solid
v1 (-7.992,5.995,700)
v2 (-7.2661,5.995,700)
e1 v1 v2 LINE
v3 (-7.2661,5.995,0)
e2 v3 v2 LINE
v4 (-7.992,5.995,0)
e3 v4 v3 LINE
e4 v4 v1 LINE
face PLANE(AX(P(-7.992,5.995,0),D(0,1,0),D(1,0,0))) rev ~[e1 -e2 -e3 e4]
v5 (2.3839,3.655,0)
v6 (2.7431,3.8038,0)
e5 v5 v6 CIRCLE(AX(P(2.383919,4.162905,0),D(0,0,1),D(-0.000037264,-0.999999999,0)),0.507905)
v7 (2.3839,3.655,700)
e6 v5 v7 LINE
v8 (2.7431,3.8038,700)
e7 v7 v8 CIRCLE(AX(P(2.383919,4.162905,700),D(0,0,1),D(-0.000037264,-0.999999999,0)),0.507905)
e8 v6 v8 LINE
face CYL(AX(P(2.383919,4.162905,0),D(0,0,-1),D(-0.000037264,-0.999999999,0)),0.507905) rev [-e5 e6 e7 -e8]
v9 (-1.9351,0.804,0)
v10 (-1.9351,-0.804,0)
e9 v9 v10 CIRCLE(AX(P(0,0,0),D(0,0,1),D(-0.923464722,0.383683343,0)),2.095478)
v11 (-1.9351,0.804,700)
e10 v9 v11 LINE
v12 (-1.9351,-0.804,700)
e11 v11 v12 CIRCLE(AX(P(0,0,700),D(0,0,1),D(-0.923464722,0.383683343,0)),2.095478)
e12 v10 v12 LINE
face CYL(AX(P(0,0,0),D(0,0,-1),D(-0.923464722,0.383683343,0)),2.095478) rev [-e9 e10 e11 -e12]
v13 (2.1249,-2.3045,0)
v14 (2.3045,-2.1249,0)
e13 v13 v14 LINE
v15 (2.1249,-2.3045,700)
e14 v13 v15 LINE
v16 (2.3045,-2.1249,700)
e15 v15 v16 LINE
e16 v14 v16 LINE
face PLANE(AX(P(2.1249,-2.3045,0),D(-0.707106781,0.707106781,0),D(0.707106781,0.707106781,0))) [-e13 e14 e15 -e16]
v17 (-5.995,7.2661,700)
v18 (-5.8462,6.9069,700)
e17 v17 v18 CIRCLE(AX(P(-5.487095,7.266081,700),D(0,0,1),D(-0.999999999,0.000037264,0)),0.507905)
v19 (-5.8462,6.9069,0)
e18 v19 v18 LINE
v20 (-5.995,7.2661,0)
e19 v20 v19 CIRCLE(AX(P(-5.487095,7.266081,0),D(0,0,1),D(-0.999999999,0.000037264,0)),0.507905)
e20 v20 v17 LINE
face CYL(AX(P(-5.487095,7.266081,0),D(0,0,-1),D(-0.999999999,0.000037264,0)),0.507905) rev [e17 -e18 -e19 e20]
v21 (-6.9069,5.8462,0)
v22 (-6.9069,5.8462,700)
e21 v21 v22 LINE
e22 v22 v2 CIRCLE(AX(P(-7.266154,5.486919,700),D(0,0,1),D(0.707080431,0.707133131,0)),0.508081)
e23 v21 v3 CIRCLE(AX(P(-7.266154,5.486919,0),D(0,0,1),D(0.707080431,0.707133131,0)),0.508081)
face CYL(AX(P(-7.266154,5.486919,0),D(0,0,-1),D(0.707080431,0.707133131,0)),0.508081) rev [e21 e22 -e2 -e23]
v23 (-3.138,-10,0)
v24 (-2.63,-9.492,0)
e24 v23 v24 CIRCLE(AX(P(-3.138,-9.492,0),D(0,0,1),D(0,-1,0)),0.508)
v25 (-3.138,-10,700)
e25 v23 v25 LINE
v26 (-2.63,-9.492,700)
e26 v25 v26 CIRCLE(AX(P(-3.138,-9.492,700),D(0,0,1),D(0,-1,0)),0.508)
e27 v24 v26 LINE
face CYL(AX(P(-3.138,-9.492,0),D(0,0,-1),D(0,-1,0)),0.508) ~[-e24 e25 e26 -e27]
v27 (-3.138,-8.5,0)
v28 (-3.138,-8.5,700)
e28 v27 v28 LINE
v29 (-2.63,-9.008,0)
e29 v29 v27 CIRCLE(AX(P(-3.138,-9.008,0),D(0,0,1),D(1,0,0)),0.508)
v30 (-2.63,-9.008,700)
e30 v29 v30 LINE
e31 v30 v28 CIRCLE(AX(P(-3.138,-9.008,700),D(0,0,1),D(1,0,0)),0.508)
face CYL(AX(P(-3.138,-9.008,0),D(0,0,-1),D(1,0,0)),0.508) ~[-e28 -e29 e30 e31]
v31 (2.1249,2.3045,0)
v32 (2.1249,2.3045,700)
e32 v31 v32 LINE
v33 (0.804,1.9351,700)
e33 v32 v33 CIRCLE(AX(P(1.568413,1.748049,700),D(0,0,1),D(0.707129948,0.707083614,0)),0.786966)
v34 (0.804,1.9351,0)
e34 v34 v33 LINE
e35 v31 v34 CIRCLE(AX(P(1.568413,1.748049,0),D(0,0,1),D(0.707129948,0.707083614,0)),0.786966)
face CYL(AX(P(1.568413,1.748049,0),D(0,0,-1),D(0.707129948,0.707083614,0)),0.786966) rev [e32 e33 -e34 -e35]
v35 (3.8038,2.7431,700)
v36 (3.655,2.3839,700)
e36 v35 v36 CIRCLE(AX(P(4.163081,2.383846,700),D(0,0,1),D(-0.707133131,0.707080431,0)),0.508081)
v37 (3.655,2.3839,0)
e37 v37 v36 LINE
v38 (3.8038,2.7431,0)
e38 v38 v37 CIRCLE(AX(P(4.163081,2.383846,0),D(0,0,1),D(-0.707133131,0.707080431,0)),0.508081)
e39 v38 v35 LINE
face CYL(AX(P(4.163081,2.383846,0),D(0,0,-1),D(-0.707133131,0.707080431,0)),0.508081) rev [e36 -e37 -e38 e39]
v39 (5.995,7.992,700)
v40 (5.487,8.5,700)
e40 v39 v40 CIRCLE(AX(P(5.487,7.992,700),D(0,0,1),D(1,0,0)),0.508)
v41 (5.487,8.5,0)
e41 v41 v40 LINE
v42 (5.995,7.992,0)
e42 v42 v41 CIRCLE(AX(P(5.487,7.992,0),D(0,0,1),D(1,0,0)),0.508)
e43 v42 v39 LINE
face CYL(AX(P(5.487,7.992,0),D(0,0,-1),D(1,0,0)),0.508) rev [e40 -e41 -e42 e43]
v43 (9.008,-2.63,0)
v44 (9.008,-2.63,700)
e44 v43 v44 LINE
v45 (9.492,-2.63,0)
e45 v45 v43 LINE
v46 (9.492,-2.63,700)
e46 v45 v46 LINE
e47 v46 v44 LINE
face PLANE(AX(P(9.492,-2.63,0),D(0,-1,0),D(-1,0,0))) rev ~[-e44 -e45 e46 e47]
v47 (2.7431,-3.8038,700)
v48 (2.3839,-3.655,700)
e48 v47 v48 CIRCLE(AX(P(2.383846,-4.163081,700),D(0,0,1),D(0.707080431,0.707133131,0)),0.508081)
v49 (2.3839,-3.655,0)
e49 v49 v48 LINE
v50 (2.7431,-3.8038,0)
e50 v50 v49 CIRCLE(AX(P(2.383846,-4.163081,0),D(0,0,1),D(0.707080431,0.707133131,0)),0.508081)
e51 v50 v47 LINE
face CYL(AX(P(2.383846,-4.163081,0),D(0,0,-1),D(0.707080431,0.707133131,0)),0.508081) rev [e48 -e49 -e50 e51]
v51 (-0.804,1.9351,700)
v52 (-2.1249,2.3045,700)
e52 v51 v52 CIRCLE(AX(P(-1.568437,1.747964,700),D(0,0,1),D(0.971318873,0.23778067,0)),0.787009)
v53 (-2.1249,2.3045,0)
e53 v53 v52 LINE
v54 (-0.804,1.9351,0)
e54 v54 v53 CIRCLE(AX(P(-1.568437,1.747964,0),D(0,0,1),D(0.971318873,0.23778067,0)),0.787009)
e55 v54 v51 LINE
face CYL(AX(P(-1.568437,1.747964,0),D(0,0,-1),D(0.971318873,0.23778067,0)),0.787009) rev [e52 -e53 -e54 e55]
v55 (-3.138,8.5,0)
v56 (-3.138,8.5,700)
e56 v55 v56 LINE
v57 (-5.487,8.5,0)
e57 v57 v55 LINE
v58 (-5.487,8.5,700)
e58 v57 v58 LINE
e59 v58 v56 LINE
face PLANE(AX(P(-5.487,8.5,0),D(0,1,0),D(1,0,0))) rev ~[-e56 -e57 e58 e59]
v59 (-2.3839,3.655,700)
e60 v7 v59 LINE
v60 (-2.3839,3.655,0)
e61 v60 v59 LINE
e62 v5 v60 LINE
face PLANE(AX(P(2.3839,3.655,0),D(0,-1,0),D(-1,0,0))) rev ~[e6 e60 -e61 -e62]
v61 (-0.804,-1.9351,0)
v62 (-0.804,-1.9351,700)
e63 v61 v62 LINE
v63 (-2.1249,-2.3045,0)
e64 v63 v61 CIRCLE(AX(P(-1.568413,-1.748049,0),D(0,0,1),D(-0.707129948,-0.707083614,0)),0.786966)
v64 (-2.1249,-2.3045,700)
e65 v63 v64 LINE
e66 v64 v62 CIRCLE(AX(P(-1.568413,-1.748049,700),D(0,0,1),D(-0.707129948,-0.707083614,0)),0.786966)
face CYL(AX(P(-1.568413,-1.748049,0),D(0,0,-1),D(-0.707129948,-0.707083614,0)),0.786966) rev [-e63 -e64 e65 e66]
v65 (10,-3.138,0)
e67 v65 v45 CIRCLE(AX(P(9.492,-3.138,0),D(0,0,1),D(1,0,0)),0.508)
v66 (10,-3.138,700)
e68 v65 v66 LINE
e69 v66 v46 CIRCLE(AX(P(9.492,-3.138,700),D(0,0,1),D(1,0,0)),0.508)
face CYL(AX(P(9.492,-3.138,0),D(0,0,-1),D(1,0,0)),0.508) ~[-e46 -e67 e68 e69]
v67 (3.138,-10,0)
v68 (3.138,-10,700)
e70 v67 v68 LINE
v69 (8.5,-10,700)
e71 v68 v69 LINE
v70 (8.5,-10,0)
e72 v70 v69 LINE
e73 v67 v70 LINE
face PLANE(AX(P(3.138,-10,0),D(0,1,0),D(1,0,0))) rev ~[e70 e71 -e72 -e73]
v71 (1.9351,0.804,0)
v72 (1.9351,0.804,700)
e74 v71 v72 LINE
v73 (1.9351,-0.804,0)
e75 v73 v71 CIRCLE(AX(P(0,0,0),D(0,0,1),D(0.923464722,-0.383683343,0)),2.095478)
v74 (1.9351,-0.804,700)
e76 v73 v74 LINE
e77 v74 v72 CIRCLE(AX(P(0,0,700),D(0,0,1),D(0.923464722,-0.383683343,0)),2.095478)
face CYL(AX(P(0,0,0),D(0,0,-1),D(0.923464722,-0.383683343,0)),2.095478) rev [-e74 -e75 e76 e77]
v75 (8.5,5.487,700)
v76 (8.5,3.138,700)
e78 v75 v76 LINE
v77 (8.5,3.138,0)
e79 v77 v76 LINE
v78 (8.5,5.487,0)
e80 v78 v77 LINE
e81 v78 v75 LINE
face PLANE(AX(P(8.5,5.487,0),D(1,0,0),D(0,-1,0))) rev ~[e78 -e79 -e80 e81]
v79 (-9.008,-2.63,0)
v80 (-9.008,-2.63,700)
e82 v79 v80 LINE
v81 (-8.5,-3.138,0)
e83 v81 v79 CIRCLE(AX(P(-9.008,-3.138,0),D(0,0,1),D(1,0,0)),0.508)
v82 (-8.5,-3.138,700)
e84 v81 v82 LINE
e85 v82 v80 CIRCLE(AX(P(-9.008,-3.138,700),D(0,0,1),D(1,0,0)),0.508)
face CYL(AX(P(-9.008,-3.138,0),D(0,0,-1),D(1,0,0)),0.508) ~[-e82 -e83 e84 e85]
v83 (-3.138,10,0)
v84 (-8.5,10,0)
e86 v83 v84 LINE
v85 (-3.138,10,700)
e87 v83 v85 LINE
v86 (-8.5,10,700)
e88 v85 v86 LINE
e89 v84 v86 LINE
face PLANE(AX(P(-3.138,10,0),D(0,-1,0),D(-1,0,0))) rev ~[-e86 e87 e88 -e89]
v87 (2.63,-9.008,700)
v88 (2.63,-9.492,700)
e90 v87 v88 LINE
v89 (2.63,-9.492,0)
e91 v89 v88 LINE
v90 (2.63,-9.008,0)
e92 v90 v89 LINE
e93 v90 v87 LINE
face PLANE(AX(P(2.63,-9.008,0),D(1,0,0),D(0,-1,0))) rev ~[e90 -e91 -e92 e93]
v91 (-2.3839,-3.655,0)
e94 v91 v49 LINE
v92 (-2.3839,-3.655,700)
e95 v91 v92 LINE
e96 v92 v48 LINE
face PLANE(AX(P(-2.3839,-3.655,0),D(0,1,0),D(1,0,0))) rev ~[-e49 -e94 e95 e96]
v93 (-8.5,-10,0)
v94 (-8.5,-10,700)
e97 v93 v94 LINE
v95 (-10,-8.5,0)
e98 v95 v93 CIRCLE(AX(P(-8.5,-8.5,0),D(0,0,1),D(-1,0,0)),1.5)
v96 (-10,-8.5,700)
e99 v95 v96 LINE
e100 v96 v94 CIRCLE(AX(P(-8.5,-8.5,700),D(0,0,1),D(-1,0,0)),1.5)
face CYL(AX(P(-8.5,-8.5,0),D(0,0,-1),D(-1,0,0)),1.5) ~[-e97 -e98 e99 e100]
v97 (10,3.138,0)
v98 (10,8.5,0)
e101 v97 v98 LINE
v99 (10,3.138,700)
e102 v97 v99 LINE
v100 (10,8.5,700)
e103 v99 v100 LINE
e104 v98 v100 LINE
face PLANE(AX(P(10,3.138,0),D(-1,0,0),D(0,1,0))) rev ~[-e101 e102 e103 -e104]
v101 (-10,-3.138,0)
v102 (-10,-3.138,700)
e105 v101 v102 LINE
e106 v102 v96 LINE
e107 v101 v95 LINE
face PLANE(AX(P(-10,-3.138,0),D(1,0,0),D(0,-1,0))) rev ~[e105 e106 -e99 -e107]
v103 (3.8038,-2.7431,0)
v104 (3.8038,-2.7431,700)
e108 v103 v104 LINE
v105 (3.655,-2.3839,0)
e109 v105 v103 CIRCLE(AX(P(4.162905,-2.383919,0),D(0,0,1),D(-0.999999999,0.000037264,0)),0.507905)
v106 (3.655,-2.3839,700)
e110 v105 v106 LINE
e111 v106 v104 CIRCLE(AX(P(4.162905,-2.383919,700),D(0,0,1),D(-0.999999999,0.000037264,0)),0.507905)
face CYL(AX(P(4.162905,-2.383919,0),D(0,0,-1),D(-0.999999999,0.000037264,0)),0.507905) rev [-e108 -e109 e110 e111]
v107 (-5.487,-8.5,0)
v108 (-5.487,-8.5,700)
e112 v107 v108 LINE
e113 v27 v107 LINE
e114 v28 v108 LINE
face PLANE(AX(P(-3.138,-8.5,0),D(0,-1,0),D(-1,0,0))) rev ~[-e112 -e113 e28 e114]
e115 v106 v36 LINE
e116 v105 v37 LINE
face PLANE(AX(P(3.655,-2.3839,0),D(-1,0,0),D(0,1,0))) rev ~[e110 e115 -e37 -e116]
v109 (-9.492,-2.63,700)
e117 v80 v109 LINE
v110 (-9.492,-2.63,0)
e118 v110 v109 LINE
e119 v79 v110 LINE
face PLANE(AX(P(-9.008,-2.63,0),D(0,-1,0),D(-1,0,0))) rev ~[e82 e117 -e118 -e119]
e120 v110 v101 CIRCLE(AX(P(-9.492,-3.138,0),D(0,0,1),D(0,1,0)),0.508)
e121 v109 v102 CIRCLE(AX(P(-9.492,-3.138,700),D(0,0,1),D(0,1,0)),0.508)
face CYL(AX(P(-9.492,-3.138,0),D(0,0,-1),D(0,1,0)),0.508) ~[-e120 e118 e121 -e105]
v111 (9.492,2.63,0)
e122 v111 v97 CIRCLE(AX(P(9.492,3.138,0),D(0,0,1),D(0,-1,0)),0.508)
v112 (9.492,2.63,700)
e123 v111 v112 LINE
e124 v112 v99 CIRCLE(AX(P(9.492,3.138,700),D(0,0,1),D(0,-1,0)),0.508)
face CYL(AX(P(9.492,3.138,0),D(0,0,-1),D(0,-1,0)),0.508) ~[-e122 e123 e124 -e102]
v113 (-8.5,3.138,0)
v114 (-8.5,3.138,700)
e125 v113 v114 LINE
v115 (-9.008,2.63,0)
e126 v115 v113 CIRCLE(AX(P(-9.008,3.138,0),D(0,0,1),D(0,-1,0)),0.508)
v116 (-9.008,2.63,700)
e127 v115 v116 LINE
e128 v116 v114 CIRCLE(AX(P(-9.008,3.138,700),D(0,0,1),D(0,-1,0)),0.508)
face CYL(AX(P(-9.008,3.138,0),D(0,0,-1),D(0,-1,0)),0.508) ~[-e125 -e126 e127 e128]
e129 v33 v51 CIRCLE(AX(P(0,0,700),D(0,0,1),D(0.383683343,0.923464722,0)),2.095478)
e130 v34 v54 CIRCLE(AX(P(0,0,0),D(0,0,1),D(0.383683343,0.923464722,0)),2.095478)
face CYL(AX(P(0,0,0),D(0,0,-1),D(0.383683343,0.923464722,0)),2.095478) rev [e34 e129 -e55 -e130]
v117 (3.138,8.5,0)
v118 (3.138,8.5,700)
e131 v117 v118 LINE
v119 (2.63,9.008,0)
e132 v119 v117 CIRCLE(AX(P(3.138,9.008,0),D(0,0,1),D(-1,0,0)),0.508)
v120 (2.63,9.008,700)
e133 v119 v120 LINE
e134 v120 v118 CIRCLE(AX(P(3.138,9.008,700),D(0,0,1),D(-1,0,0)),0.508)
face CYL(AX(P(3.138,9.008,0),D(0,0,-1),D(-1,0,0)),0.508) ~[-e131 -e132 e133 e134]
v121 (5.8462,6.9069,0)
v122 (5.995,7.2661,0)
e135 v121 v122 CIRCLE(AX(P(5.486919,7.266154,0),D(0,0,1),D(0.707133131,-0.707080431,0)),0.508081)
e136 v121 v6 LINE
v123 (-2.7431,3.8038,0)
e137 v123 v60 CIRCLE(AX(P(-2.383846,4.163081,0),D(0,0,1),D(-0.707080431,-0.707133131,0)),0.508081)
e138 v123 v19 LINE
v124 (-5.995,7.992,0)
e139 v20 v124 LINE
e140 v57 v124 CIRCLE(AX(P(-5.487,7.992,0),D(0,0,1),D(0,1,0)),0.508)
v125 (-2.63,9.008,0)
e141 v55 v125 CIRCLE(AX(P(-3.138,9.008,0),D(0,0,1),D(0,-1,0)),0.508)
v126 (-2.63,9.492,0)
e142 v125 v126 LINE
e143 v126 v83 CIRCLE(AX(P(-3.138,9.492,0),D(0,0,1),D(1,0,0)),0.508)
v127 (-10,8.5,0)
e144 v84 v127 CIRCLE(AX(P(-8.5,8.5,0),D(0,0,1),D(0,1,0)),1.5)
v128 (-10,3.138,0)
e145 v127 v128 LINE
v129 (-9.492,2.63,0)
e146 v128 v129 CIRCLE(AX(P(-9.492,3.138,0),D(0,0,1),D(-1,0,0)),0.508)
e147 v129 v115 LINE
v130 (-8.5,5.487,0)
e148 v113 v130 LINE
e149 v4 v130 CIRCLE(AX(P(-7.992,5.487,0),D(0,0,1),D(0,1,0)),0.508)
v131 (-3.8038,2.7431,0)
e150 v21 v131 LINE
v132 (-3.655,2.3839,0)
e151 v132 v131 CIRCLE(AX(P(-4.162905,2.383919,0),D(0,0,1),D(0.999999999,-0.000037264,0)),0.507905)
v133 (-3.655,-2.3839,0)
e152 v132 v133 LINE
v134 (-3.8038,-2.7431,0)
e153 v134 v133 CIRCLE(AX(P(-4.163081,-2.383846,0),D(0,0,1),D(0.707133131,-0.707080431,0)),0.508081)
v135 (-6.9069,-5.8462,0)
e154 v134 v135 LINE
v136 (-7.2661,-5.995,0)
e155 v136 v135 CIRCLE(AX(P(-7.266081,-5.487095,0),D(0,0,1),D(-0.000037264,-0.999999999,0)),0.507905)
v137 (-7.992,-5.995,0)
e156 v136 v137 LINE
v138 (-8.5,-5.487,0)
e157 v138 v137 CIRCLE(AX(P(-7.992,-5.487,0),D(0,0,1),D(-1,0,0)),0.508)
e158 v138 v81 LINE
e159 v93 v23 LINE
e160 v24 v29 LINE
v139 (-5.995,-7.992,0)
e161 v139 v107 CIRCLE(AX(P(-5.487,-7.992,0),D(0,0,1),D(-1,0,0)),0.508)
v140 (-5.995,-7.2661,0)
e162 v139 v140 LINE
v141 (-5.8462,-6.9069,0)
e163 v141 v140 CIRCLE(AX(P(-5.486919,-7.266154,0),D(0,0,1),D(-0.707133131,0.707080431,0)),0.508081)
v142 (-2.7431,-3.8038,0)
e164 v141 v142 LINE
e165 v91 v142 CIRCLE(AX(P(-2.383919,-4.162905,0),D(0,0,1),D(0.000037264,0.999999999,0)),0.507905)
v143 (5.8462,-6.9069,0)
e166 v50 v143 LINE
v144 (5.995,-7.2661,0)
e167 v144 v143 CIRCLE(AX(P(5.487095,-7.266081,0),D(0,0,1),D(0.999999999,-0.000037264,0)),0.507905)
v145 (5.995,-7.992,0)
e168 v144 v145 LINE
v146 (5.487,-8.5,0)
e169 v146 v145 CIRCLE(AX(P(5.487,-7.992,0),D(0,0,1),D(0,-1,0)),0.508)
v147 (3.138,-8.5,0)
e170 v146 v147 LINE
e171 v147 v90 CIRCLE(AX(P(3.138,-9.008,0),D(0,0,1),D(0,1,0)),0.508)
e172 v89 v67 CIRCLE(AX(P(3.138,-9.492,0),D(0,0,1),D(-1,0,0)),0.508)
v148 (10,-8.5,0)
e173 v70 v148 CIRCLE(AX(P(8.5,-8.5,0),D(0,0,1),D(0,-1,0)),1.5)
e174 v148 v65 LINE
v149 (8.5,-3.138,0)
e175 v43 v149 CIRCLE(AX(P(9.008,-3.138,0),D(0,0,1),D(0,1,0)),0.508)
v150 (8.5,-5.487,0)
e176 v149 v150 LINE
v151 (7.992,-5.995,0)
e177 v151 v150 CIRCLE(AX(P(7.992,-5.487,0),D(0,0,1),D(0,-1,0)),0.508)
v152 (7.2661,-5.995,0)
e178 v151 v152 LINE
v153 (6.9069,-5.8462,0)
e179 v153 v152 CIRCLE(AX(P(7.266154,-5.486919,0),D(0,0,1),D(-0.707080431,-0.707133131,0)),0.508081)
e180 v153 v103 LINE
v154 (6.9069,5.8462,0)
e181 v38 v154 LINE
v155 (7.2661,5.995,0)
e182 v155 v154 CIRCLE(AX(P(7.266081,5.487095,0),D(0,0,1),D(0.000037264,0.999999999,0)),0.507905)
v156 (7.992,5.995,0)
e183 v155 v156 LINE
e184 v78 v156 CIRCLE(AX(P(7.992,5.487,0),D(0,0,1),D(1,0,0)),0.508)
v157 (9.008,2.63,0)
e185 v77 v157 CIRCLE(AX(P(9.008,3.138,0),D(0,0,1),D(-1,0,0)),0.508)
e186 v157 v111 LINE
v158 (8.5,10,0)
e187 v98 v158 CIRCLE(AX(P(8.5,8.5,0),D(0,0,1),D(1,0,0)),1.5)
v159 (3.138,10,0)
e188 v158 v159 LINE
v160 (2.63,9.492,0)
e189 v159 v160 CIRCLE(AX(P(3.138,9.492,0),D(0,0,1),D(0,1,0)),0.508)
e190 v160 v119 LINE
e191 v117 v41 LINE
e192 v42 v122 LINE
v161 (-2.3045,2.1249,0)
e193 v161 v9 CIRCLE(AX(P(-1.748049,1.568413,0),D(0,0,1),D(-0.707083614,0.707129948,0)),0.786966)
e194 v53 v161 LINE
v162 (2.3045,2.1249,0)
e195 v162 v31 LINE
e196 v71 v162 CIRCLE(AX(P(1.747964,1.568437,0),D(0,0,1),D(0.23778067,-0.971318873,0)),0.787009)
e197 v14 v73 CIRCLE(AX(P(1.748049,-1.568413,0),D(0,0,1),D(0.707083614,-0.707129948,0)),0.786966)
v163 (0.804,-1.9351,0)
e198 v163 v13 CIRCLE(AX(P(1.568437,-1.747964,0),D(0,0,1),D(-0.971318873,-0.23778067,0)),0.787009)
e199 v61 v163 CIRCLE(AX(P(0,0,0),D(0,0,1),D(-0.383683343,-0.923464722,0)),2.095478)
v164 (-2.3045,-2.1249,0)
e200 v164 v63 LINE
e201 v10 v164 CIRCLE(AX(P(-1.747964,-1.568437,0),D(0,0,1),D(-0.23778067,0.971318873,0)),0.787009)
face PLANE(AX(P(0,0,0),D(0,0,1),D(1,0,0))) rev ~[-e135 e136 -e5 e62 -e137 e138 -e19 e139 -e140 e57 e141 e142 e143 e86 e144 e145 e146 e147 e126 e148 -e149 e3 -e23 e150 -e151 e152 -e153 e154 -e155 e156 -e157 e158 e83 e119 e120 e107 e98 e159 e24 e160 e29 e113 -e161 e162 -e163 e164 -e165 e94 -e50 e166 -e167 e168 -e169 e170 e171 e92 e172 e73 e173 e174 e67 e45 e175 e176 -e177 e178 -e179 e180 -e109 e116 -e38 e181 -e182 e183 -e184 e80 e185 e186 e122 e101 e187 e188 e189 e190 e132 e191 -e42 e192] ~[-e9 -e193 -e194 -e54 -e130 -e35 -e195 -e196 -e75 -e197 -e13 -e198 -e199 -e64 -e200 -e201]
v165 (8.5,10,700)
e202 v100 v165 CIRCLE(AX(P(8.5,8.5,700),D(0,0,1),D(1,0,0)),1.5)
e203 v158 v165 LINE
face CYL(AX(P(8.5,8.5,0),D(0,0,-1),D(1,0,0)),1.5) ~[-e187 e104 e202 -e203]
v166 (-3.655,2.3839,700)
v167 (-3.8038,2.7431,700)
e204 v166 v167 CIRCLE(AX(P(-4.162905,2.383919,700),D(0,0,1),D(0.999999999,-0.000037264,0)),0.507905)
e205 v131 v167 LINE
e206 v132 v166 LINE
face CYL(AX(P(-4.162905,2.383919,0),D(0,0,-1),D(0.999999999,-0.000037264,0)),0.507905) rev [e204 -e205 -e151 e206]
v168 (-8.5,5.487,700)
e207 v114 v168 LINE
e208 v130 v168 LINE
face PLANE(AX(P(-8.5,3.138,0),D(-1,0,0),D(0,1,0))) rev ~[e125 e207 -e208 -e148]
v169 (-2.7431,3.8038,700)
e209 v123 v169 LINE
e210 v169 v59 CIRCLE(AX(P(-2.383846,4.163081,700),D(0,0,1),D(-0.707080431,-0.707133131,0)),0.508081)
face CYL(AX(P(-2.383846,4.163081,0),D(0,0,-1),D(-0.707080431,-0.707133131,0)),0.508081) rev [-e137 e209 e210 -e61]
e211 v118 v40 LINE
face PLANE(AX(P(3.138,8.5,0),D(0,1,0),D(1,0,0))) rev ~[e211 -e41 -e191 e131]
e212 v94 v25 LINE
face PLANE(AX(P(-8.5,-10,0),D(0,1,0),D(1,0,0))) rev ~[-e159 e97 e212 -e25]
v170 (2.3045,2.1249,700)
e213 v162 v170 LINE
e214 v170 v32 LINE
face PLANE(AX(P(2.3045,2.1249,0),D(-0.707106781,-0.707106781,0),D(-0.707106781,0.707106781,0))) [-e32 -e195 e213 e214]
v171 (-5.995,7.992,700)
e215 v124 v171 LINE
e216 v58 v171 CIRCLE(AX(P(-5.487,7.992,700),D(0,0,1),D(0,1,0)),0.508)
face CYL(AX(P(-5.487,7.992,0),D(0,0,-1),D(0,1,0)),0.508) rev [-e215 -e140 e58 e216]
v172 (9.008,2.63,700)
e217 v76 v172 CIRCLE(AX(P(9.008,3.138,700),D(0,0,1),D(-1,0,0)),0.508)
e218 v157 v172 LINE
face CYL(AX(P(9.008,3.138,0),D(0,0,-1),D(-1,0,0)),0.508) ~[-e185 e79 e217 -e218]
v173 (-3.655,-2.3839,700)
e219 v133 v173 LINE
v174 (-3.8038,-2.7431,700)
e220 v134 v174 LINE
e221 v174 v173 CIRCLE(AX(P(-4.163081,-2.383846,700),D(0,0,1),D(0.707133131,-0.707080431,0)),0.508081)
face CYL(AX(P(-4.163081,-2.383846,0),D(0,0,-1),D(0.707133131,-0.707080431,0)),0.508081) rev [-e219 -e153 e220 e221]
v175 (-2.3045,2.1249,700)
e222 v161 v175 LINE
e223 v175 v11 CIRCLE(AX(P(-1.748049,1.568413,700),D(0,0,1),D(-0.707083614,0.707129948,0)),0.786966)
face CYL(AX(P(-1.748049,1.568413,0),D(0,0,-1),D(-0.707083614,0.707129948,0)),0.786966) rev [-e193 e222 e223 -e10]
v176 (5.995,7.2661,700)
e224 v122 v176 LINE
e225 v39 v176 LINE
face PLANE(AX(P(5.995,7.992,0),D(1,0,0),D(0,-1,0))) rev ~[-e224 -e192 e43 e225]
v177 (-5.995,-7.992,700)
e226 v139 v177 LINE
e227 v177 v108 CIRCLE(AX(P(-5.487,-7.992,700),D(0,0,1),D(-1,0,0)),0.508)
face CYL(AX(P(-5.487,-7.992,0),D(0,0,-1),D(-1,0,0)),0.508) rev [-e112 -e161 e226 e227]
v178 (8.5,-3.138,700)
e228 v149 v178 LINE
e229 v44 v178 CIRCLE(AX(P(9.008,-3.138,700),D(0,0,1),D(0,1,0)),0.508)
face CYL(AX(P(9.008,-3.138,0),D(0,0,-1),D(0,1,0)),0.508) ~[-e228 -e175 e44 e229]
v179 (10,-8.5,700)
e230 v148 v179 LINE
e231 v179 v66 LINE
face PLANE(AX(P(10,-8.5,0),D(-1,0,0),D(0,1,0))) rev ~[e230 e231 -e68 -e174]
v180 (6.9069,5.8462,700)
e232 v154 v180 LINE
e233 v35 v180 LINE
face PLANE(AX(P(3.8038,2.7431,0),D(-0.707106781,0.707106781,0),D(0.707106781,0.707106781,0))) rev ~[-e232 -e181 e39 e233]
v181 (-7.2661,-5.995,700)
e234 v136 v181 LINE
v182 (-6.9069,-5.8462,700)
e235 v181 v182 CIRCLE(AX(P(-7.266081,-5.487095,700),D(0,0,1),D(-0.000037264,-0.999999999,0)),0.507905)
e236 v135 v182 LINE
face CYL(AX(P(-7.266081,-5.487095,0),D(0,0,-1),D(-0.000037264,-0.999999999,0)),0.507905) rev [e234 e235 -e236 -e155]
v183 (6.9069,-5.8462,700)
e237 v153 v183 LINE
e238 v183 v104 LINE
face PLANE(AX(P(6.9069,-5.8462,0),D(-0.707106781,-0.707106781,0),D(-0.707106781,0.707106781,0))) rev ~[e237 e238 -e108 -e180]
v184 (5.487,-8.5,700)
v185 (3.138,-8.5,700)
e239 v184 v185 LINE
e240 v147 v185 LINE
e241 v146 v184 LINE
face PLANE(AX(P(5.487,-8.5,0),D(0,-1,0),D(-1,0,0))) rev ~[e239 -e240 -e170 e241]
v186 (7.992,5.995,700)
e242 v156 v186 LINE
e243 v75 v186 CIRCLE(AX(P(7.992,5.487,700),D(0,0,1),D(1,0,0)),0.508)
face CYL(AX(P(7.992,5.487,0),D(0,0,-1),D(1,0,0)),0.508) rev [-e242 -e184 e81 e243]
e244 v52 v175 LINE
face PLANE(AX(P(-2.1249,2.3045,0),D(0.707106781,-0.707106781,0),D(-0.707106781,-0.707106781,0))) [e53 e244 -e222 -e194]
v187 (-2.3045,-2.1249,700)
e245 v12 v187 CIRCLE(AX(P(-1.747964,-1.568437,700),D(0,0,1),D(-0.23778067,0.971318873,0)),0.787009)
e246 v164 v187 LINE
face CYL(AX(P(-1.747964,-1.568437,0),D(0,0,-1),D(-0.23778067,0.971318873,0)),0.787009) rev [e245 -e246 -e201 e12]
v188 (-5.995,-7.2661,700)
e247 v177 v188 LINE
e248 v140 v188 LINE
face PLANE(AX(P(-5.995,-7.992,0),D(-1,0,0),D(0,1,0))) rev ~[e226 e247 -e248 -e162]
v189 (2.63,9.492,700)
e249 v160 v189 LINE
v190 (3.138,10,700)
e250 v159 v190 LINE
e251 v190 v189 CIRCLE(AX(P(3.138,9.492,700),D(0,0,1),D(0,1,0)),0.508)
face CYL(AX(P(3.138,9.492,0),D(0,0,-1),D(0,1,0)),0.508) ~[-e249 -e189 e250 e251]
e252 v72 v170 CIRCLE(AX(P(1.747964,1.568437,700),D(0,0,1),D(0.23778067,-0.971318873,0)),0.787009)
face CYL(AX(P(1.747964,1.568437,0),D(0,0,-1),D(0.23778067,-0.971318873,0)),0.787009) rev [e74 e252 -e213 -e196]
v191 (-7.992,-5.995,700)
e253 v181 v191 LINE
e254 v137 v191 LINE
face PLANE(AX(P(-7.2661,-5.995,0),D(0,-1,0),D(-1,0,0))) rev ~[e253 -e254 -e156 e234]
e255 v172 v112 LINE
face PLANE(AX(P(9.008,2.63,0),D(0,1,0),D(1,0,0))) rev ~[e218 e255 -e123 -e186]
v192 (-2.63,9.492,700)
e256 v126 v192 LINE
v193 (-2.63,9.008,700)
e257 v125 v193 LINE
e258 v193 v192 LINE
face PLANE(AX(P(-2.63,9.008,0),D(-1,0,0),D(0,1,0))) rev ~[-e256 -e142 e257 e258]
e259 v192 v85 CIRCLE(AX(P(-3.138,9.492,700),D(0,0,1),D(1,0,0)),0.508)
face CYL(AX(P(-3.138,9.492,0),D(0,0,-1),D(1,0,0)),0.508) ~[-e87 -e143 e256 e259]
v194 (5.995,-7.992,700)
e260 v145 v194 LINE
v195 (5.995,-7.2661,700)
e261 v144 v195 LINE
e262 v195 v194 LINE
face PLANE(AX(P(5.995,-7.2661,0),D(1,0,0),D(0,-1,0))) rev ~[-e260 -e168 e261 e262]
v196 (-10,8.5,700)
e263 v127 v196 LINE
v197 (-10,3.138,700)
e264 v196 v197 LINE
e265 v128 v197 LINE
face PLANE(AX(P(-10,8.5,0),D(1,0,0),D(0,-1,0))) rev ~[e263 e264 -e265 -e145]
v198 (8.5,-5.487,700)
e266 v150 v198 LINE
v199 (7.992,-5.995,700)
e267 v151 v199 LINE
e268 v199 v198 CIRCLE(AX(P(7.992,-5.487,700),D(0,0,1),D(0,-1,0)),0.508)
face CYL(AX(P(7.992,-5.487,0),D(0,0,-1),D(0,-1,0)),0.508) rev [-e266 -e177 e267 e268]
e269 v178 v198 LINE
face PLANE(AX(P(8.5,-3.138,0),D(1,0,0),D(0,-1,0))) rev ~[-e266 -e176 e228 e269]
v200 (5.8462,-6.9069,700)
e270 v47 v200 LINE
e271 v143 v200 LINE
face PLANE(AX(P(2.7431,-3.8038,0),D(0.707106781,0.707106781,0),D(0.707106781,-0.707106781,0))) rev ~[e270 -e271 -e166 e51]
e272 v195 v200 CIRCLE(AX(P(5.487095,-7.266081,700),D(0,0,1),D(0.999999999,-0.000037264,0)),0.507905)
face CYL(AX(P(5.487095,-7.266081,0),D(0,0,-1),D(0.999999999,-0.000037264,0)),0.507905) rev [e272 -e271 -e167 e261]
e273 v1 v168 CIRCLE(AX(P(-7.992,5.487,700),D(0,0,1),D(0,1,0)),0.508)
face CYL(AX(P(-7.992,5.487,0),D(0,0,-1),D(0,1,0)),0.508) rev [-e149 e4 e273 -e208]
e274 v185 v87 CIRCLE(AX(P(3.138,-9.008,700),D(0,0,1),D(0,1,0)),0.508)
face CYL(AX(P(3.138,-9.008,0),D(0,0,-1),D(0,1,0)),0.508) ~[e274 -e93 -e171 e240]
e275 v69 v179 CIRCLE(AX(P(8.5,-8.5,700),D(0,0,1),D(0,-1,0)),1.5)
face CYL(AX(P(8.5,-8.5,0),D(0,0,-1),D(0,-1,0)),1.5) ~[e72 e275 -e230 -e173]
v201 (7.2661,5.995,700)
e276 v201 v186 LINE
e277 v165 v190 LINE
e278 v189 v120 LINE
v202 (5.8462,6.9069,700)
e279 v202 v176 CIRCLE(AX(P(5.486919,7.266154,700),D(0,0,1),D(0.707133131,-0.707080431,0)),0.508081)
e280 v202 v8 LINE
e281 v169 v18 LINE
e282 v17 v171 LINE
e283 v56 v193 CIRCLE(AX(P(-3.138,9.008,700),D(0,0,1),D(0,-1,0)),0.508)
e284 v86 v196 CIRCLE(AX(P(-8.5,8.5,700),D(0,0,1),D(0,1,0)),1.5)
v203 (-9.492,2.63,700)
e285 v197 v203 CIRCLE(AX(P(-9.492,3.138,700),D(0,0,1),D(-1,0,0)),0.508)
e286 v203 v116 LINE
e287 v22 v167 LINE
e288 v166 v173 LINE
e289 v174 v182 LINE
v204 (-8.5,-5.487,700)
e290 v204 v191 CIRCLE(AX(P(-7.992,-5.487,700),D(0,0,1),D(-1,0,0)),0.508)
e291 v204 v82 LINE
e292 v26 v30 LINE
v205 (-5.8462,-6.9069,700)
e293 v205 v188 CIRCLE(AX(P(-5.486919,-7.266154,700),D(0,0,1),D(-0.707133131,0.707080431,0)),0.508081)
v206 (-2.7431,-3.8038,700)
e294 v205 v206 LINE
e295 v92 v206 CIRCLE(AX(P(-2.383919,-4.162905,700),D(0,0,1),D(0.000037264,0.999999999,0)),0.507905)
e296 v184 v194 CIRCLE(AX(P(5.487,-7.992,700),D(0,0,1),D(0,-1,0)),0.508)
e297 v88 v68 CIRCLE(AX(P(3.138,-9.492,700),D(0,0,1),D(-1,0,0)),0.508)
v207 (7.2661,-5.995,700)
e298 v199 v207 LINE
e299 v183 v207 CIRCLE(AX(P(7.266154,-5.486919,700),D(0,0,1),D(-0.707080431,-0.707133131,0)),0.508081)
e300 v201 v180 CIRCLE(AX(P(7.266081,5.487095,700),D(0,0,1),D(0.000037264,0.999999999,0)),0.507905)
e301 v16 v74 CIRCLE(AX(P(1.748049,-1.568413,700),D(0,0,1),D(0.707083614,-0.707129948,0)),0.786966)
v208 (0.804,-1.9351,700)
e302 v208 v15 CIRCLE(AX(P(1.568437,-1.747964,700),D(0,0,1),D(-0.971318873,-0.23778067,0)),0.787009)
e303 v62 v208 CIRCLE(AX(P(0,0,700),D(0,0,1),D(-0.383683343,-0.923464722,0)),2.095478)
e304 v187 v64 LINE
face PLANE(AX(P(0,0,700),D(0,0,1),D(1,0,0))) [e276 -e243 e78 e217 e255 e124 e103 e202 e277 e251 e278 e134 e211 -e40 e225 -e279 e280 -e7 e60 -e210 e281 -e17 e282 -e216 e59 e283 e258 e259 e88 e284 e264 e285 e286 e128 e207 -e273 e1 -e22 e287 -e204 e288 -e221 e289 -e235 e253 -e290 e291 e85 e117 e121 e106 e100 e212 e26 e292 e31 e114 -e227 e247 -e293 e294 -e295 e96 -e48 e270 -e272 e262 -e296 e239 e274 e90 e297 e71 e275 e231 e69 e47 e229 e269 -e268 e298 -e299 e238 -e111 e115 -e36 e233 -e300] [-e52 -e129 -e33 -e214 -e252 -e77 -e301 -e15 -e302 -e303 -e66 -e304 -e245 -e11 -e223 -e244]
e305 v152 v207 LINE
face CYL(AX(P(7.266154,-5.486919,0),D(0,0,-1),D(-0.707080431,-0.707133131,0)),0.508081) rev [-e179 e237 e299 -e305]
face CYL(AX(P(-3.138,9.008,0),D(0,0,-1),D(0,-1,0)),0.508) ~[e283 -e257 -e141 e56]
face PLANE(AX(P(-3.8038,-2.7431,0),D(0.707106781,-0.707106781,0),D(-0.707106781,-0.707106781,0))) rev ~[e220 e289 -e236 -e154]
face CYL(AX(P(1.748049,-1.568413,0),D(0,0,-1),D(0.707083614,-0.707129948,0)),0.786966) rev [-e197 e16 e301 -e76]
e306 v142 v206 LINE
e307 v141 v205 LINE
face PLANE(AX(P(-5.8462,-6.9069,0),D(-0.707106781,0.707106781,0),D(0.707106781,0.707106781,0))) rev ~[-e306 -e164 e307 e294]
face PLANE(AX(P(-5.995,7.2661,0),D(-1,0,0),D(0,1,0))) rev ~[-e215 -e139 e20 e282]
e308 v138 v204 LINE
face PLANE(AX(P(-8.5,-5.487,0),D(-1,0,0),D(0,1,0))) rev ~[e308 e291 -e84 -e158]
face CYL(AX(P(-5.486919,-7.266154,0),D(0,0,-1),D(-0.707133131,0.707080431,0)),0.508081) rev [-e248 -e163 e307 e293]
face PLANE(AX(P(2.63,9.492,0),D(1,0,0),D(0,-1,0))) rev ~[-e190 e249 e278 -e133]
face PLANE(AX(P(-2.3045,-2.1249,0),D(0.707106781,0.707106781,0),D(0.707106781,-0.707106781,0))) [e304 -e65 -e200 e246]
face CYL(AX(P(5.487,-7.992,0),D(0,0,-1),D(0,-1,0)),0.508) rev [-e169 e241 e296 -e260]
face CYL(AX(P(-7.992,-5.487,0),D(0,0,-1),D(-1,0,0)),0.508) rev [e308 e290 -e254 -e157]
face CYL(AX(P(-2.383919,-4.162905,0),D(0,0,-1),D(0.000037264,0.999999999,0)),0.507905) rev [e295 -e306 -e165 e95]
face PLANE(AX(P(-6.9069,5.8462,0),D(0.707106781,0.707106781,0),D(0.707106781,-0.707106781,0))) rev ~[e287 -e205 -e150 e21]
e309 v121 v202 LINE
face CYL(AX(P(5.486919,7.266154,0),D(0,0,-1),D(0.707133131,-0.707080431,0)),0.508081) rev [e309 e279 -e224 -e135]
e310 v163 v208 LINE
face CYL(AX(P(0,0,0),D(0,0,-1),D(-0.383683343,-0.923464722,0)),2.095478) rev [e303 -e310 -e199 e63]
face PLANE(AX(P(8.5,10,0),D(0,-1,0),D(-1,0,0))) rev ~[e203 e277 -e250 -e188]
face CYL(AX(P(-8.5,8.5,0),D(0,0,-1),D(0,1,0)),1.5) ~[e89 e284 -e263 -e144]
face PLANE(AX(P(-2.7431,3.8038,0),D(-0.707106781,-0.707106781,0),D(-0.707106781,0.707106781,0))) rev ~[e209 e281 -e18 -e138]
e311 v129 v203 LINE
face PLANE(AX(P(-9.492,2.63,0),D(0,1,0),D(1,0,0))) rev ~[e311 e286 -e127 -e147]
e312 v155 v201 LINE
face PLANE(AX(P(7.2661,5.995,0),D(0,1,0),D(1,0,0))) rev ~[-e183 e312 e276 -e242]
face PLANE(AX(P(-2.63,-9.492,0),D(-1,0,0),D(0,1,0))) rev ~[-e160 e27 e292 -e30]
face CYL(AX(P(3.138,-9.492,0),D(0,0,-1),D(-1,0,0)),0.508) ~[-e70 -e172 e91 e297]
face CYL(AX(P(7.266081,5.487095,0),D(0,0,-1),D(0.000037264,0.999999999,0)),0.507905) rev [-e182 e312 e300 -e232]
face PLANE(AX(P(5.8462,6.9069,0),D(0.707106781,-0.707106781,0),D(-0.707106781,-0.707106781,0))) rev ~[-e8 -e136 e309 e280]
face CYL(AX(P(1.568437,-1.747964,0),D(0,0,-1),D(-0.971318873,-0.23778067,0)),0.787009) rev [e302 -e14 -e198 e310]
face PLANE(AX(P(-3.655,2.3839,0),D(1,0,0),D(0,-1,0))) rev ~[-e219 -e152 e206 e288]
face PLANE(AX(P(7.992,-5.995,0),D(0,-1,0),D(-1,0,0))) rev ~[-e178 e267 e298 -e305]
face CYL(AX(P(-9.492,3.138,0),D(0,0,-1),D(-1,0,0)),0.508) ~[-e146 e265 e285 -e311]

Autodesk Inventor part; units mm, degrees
ref_plane "YZ Plane" through (0, 0, 0) normal (1, 0, 0) x (0, 1, 0)
ref_plane "XZ Plane" through (0, 0, 0) normal (0, 1, 0) x (-1, 0, 0)
ref_plane "XY Plane" through (0, 0, 0) normal (0, 0, 1) x (1, 0, 0)
sketch "Sketch2" plane through (0, 0, 0) normal (0, 0, 1) x (1, 0, 0)
  arc A0 (0.804, -1.9351) -> (2.1249, -2.3045) centre (1.5684, -1.748) ccw
  line L0 (2.1249, -2.3045) -> (2.3045, -2.1249)
  arc A1 (2.3045, -2.1249) -> (1.9351, -0.804) centre (1.748, -1.5684) ccw
  arc A2 (1.9351, -0.804) -> (1.9351, 0.804) centre (0, 0) ccw
  arc A3 (1.9351, 0.804) -> (2.3045, 2.1249) centre (1.748, 1.5684) ccw
  line L1 (2.3045, 2.1249) -> (2.1249, 2.3045)
  arc A4 (2.1249, 2.3045) -> (0.804, 1.9351) centre (1.5684, 1.748) ccw
  arc A5 (0.804, 1.9351) -> (-0.804, 1.9351) centre (0, 0) ccw
  arc A6 (-0.804, 1.9351) -> (-2.1249, 2.3045) centre (-1.5684, 1.748) ccw
  line L2 (-2.1249, 2.3045) -> (-2.3045, 2.1249)
  arc A7 (-2.3045, 2.1249) -> (-1.9351, 0.804) centre (-1.748, 1.5684) ccw
  arc A8 (-1.9351, 0.804) -> (-1.9351, -0.804) centre (0, 0) ccw
  arc A9 (-1.9351, -0.804) -> (-2.3045, -2.1249) centre (-1.748, -1.5684) ccw
  line L3 (-2.3045, -2.1249) -> (-2.1249, -2.3045)
  arc A10 (-2.1249, -2.3045) -> (-0.804, -1.9351) centre (-1.5684, -1.748) ccw
  arc A11 (-0.804, -1.9351) -> (0.804, -1.9351) centre (0, 0) ccw
  line L4 (9.008, 2.63) -> (9.492, 2.63)
  arc A12 (8.5, 3.138) -> (9.008, 2.63) centre (9.008, 3.138) ccw
  line L5 (8.5, 5.487) -> (8.5, 3.138)
  arc A13 (8.5, 5.487) -> (7.992, 5.995) centre (7.992, 5.487) ccw
  line L6 (7.2661, 5.995) -> (7.992, 5.995)
  arc A14 (7.2661, 5.995) -> (6.9069, 5.8462) centre (7.2661, 5.487) ccw
  line L7 (3.8038, 2.7431) -> (6.9069, 5.8462)
  arc A15 (3.8038, 2.7431) -> (3.655, 2.3839) centre (4.163, 2.3839) ccw
  line L8 (3.655, -2.3839) -> (3.655, 2.3839)
  arc A16 (3.655, -2.3839) -> (3.8038, -2.7431) centre (4.163, -2.3839) ccw
  line L9 (6.9069, -5.8462) -> (3.8038, -2.7431)
  arc A17 (6.9069, -5.8462) -> (7.2661, -5.995) centre (7.2661, -5.487) ccw
  line L10 (7.992, -5.995) -> (7.2661, -5.995)
  arc A18 (7.992, -5.995) -> (8.5, -5.487) centre (7.992, -5.487) ccw
  line L11 (8.5, -3.138) -> (8.5, -5.487)
  arc A19 (9.008, -2.63) -> (8.5, -3.138) centre (9.008, -3.138) ccw
  line L12 (9.492, -2.63) -> (9.008, -2.63)
  arc A20 (10, -3.138) -> (9.492, -2.63) centre (9.492, -3.138) ccw
  line L13 (10, -8.5) -> (10, -3.138)
  arc A21 (8.5, -10) -> (10, -8.5) centre (8.5, -8.5) ccw
  line L14 (3.138, -10) -> (8.5, -10)
  arc A22 (2.63, -9.492) -> (3.138, -10) centre (3.138, -9.492) ccw
  line L15 (2.63, -9.008) -> (2.63, -9.492)
  arc A23 (3.138, -8.5) -> (2.63, -9.008) centre (3.138, -9.008) ccw
  line L16 (5.487, -8.5) -> (3.138, -8.5)
  arc A24 (5.487, -8.5) -> (5.995, -7.992) centre (5.487, -7.992) ccw
  line L17 (5.995, -7.2661) -> (5.995, -7.992)
  arc A25 (5.995, -7.2661) -> (5.8462, -6.9069) centre (5.487, -7.2661) ccw
  line L18 (2.7431, -3.8038) -> (5.8462, -6.9069)
  arc A26 (2.7431, -3.8038) -> (2.3839, -3.655) centre (2.3839, -4.163) ccw
  line L19 (-2.3839, -3.655) -> (2.3839, -3.655)
  arc A27 (-2.3839, -3.655) -> (-2.7431, -3.8038) centre (-2.3839, -4.163) ccw
  line L20 (-5.8462, -6.9069) -> (-2.7431, -3.8038)
  arc A28 (-5.8462, -6.9069) -> (-5.995, -7.2661) centre (-5.487, -7.2661) ccw
  line L21 (-5.995, -7.992) -> (-5.995, -7.2661)
  arc A29 (-5.995, -7.992) -> (-5.487, -8.5) centre (-5.487, -7.992) ccw
  line L22 (-3.138, -8.5) -> (-5.487, -8.5)
  arc A30 (-2.63, -9.008) -> (-3.138, -8.5) centre (-3.138, -9.008) ccw
  line L23 (-2.63, -9.492) -> (-2.63, -9.008)
  arc A31 (-3.138, -10) -> (-2.63, -9.492) centre (-3.138, -9.492) ccw
  line L24 (-8.5, -10) -> (-3.138, -10)
  arc A32 (-10, -8.5) -> (-8.5, -10) centre (-8.5, -8.5) ccw
  line L25 (-10, -3.138) -> (-10, -8.5)
  arc A33 (-9.492, -2.63) -> (-10, -3.138) centre (-9.492, -3.138) ccw
  line L26 (-9.008, -2.63) -> (-9.492, -2.63)
  arc A34 (-8.5, -3.138) -> (-9.008, -2.63) centre (-9.008, -3.138) ccw
  line L27 (-8.5, -5.487) -> (-8.5, -3.138)
  arc A35 (-8.5, -5.487) -> (-7.992, -5.995) centre (-7.992, -5.487) ccw
  line L28 (-7.2661, -5.995) -> (-7.992, -5.995)
  arc A36 (-7.2661, -5.995) -> (-6.9069, -5.8462) centre (-7.2661, -5.487) ccw
  line L29 (-3.8038, -2.7431) -> (-6.9069, -5.8462)
  arc A37 (-3.8038, -2.7431) -> (-3.655, -2.3839) centre (-4.163, -2.3839) ccw
  line L30 (-3.655, 2.3839) -> (-3.655, -2.3839)
  arc A38 (-3.655, 2.3839) -> (-3.8038, 2.7431) centre (-4.163, 2.3839) ccw
  line L31 (-6.9069, 5.8462) -> (-3.8038, 2.7431)
  arc A39 (-6.9069, 5.8462) -> (-7.2661, 5.995) centre (-7.2661, 5.487) ccw
  line L32 (-7.992, 5.995) -> (-7.2661, 5.995)
  arc A40 (-7.992, 5.995) -> (-8.5, 5.487) centre (-7.992, 5.487) ccw
  line L33 (-8.5, 3.138) -> (-8.5, 5.487)
  arc A41 (-9.008, 2.63) -> (-8.5, 3.138) centre (-9.008, 3.138) ccw
  line L34 (-9.492, 2.63) -> (-9.008, 2.63)
  arc A42 (-10, 3.138) -> (-9.492, 2.63) centre (-9.492, 3.138) ccw
  line L35 (-10, 8.5) -> (-10, 3.138)
  arc A43 (-8.5, 10) -> (-10, 8.5) centre (-8.5, 8.5) ccw
  line L36 (-3.138, 10) -> (-8.5, 10)
  arc A44 (-2.63, 9.492) -> (-3.138, 10) centre (-3.138, 9.492) ccw
  line L37 (-2.63, 9.008) -> (-2.63, 9.492)
  arc A45 (-3.138, 8.5) -> (-2.63, 9.008) centre (-3.138, 9.008) ccw
  line L38 (-5.487, 8.5) -> (-3.138, 8.5)
  arc A46 (-5.487, 8.5) -> (-5.995, 7.992) centre (-5.487, 7.992) ccw
  line L39 (-5.995, 7.2661) -> (-5.995, 7.992)
  arc A47 (-5.995, 7.2661) -> (-5.8462, 6.9069) centre (-5.487, 7.2661) ccw
  line L40 (-2.7431, 3.8038) -> (-5.8462, 6.9069)
  arc A48 (-2.7431, 3.8038) -> (-2.3839, 3.655) centre (-2.3839, 4.163) ccw
  line L41 (2.3839, 3.655) -> (-2.3839, 3.655)
  arc A49 (2.3839, 3.655) -> (2.7431, 3.8038) centre (2.3839, 4.163) ccw
  line L42 (5.8462, 6.9069) -> (2.7431, 3.8038)
  arc A50 (5.8462, 6.9069) -> (5.995, 7.2661) centre (5.487, 7.2661) ccw
  line L43 (5.995, 7.992) -> (5.995, 7.2661)
  arc A51 (5.995, 7.992) -> (5.487, 8.5) centre (5.487, 7.992) ccw
  line L44 (3.138, 8.5) -> (5.487, 8.5)
  arc A52 (2.63, 9.008) -> (3.138, 8.5) centre (3.138, 9.008) ccw
  line L45 (2.63, 9.492) -> (2.63, 9.008)
  arc A53 (3.138, 10) -> (2.63, 9.492) centre (3.138, 9.492) ccw
  line L46 (8.5, 10) -> (3.138, 10)
  arc A54 (10, 8.5) -> (8.5, 10) centre (8.5, 8.5) ccw
  line L47 (10, 3.138) -> (10, 8.5)
  arc A55 (9.492, 2.63) -> (10, 3.138) centre (9.492, 3.138) ccw
  point P0 (0.804, -1.9351)
  point P1 (-0.804, -1.9351)
  point P2 (-2.3045, -2.1249)
  point P3 (-1.9351, -0.804)
  point P4 (-1.9351, 0.804)
  point P5 (-2.1249, 2.3045)
  point P6 (-0.804, 1.9351)
  point P7 (0.804, 1.9351)
  point P8 (2.3045, 2.1249)
  point P9 (1.9351, 0.804)
  point P10 (1.9351, -0.804)
  point P11 (2.1249, -2.3045)
  point P12 (8.5, 3.138)
  point P13 (10, 8.5)
  point P14 (3.138, 10)
  point P15 (2.63, 9.008)
  point P16 (5.487, 8.5)
  point P17 (5.995, 7.2661)
  point P18 (2.7431, 3.8038)
  point P19 (-2.3839, 3.655)
  point P20 (-5.8462, 6.9069)
  point P21 (-5.995, 7.992)
  point P22 (-3.138, 8.5)
  point P23 (-2.63, 9.492)
  point P24 (-8.5, 10)
  point P25 (-10, 3.138)
  point P26 (-9.008, 2.63)
  point P27 (-8.5, 5.487)
  point P28 (-7.2661, 5.995)
  point P29 (-3.8038, 2.7431)
  point P30 (-3.655, -2.3839)
  point P31 (-6.9069, -5.8462)
  point P32 (-7.992, -5.995)
  point P33 (-8.5, -3.138)
  point P34 (-9.492, -2.63)
  point P35 (-10, -8.5)
  point P36 (-3.138, -10)
  point P37 (-2.63, -9.008)
  point P38 (-5.487, -8.5)
  point P39 (-5.995, -7.2661)
  point P40 (-2.7431, -3.8038)
  point P41 (2.3839, -3.655)
  point P42 (5.8462, -6.9069)
  point P43 (5.995, -7.992)
  point P44 (3.138, -8.5)
  point P45 (2.63, -9.492)
  point P46 (8.5, -10)
  point P47 (10, -3.138)
  point P48 (9.008, -2.63)
  point P49 (8.5, -5.487)
  point P50 (7.2661, -5.995)
  point P51 (3.8038, -2.7431)
  point P52 (3.655, 2.3839)
  point P53 (6.9069, 5.8462)
  point P54 (7.992, 5.995)
extrude "Extrusion1" add sketch "Sketch2" along normal blind 700
properties part number "2020_700" material "Aluminum 6061"
